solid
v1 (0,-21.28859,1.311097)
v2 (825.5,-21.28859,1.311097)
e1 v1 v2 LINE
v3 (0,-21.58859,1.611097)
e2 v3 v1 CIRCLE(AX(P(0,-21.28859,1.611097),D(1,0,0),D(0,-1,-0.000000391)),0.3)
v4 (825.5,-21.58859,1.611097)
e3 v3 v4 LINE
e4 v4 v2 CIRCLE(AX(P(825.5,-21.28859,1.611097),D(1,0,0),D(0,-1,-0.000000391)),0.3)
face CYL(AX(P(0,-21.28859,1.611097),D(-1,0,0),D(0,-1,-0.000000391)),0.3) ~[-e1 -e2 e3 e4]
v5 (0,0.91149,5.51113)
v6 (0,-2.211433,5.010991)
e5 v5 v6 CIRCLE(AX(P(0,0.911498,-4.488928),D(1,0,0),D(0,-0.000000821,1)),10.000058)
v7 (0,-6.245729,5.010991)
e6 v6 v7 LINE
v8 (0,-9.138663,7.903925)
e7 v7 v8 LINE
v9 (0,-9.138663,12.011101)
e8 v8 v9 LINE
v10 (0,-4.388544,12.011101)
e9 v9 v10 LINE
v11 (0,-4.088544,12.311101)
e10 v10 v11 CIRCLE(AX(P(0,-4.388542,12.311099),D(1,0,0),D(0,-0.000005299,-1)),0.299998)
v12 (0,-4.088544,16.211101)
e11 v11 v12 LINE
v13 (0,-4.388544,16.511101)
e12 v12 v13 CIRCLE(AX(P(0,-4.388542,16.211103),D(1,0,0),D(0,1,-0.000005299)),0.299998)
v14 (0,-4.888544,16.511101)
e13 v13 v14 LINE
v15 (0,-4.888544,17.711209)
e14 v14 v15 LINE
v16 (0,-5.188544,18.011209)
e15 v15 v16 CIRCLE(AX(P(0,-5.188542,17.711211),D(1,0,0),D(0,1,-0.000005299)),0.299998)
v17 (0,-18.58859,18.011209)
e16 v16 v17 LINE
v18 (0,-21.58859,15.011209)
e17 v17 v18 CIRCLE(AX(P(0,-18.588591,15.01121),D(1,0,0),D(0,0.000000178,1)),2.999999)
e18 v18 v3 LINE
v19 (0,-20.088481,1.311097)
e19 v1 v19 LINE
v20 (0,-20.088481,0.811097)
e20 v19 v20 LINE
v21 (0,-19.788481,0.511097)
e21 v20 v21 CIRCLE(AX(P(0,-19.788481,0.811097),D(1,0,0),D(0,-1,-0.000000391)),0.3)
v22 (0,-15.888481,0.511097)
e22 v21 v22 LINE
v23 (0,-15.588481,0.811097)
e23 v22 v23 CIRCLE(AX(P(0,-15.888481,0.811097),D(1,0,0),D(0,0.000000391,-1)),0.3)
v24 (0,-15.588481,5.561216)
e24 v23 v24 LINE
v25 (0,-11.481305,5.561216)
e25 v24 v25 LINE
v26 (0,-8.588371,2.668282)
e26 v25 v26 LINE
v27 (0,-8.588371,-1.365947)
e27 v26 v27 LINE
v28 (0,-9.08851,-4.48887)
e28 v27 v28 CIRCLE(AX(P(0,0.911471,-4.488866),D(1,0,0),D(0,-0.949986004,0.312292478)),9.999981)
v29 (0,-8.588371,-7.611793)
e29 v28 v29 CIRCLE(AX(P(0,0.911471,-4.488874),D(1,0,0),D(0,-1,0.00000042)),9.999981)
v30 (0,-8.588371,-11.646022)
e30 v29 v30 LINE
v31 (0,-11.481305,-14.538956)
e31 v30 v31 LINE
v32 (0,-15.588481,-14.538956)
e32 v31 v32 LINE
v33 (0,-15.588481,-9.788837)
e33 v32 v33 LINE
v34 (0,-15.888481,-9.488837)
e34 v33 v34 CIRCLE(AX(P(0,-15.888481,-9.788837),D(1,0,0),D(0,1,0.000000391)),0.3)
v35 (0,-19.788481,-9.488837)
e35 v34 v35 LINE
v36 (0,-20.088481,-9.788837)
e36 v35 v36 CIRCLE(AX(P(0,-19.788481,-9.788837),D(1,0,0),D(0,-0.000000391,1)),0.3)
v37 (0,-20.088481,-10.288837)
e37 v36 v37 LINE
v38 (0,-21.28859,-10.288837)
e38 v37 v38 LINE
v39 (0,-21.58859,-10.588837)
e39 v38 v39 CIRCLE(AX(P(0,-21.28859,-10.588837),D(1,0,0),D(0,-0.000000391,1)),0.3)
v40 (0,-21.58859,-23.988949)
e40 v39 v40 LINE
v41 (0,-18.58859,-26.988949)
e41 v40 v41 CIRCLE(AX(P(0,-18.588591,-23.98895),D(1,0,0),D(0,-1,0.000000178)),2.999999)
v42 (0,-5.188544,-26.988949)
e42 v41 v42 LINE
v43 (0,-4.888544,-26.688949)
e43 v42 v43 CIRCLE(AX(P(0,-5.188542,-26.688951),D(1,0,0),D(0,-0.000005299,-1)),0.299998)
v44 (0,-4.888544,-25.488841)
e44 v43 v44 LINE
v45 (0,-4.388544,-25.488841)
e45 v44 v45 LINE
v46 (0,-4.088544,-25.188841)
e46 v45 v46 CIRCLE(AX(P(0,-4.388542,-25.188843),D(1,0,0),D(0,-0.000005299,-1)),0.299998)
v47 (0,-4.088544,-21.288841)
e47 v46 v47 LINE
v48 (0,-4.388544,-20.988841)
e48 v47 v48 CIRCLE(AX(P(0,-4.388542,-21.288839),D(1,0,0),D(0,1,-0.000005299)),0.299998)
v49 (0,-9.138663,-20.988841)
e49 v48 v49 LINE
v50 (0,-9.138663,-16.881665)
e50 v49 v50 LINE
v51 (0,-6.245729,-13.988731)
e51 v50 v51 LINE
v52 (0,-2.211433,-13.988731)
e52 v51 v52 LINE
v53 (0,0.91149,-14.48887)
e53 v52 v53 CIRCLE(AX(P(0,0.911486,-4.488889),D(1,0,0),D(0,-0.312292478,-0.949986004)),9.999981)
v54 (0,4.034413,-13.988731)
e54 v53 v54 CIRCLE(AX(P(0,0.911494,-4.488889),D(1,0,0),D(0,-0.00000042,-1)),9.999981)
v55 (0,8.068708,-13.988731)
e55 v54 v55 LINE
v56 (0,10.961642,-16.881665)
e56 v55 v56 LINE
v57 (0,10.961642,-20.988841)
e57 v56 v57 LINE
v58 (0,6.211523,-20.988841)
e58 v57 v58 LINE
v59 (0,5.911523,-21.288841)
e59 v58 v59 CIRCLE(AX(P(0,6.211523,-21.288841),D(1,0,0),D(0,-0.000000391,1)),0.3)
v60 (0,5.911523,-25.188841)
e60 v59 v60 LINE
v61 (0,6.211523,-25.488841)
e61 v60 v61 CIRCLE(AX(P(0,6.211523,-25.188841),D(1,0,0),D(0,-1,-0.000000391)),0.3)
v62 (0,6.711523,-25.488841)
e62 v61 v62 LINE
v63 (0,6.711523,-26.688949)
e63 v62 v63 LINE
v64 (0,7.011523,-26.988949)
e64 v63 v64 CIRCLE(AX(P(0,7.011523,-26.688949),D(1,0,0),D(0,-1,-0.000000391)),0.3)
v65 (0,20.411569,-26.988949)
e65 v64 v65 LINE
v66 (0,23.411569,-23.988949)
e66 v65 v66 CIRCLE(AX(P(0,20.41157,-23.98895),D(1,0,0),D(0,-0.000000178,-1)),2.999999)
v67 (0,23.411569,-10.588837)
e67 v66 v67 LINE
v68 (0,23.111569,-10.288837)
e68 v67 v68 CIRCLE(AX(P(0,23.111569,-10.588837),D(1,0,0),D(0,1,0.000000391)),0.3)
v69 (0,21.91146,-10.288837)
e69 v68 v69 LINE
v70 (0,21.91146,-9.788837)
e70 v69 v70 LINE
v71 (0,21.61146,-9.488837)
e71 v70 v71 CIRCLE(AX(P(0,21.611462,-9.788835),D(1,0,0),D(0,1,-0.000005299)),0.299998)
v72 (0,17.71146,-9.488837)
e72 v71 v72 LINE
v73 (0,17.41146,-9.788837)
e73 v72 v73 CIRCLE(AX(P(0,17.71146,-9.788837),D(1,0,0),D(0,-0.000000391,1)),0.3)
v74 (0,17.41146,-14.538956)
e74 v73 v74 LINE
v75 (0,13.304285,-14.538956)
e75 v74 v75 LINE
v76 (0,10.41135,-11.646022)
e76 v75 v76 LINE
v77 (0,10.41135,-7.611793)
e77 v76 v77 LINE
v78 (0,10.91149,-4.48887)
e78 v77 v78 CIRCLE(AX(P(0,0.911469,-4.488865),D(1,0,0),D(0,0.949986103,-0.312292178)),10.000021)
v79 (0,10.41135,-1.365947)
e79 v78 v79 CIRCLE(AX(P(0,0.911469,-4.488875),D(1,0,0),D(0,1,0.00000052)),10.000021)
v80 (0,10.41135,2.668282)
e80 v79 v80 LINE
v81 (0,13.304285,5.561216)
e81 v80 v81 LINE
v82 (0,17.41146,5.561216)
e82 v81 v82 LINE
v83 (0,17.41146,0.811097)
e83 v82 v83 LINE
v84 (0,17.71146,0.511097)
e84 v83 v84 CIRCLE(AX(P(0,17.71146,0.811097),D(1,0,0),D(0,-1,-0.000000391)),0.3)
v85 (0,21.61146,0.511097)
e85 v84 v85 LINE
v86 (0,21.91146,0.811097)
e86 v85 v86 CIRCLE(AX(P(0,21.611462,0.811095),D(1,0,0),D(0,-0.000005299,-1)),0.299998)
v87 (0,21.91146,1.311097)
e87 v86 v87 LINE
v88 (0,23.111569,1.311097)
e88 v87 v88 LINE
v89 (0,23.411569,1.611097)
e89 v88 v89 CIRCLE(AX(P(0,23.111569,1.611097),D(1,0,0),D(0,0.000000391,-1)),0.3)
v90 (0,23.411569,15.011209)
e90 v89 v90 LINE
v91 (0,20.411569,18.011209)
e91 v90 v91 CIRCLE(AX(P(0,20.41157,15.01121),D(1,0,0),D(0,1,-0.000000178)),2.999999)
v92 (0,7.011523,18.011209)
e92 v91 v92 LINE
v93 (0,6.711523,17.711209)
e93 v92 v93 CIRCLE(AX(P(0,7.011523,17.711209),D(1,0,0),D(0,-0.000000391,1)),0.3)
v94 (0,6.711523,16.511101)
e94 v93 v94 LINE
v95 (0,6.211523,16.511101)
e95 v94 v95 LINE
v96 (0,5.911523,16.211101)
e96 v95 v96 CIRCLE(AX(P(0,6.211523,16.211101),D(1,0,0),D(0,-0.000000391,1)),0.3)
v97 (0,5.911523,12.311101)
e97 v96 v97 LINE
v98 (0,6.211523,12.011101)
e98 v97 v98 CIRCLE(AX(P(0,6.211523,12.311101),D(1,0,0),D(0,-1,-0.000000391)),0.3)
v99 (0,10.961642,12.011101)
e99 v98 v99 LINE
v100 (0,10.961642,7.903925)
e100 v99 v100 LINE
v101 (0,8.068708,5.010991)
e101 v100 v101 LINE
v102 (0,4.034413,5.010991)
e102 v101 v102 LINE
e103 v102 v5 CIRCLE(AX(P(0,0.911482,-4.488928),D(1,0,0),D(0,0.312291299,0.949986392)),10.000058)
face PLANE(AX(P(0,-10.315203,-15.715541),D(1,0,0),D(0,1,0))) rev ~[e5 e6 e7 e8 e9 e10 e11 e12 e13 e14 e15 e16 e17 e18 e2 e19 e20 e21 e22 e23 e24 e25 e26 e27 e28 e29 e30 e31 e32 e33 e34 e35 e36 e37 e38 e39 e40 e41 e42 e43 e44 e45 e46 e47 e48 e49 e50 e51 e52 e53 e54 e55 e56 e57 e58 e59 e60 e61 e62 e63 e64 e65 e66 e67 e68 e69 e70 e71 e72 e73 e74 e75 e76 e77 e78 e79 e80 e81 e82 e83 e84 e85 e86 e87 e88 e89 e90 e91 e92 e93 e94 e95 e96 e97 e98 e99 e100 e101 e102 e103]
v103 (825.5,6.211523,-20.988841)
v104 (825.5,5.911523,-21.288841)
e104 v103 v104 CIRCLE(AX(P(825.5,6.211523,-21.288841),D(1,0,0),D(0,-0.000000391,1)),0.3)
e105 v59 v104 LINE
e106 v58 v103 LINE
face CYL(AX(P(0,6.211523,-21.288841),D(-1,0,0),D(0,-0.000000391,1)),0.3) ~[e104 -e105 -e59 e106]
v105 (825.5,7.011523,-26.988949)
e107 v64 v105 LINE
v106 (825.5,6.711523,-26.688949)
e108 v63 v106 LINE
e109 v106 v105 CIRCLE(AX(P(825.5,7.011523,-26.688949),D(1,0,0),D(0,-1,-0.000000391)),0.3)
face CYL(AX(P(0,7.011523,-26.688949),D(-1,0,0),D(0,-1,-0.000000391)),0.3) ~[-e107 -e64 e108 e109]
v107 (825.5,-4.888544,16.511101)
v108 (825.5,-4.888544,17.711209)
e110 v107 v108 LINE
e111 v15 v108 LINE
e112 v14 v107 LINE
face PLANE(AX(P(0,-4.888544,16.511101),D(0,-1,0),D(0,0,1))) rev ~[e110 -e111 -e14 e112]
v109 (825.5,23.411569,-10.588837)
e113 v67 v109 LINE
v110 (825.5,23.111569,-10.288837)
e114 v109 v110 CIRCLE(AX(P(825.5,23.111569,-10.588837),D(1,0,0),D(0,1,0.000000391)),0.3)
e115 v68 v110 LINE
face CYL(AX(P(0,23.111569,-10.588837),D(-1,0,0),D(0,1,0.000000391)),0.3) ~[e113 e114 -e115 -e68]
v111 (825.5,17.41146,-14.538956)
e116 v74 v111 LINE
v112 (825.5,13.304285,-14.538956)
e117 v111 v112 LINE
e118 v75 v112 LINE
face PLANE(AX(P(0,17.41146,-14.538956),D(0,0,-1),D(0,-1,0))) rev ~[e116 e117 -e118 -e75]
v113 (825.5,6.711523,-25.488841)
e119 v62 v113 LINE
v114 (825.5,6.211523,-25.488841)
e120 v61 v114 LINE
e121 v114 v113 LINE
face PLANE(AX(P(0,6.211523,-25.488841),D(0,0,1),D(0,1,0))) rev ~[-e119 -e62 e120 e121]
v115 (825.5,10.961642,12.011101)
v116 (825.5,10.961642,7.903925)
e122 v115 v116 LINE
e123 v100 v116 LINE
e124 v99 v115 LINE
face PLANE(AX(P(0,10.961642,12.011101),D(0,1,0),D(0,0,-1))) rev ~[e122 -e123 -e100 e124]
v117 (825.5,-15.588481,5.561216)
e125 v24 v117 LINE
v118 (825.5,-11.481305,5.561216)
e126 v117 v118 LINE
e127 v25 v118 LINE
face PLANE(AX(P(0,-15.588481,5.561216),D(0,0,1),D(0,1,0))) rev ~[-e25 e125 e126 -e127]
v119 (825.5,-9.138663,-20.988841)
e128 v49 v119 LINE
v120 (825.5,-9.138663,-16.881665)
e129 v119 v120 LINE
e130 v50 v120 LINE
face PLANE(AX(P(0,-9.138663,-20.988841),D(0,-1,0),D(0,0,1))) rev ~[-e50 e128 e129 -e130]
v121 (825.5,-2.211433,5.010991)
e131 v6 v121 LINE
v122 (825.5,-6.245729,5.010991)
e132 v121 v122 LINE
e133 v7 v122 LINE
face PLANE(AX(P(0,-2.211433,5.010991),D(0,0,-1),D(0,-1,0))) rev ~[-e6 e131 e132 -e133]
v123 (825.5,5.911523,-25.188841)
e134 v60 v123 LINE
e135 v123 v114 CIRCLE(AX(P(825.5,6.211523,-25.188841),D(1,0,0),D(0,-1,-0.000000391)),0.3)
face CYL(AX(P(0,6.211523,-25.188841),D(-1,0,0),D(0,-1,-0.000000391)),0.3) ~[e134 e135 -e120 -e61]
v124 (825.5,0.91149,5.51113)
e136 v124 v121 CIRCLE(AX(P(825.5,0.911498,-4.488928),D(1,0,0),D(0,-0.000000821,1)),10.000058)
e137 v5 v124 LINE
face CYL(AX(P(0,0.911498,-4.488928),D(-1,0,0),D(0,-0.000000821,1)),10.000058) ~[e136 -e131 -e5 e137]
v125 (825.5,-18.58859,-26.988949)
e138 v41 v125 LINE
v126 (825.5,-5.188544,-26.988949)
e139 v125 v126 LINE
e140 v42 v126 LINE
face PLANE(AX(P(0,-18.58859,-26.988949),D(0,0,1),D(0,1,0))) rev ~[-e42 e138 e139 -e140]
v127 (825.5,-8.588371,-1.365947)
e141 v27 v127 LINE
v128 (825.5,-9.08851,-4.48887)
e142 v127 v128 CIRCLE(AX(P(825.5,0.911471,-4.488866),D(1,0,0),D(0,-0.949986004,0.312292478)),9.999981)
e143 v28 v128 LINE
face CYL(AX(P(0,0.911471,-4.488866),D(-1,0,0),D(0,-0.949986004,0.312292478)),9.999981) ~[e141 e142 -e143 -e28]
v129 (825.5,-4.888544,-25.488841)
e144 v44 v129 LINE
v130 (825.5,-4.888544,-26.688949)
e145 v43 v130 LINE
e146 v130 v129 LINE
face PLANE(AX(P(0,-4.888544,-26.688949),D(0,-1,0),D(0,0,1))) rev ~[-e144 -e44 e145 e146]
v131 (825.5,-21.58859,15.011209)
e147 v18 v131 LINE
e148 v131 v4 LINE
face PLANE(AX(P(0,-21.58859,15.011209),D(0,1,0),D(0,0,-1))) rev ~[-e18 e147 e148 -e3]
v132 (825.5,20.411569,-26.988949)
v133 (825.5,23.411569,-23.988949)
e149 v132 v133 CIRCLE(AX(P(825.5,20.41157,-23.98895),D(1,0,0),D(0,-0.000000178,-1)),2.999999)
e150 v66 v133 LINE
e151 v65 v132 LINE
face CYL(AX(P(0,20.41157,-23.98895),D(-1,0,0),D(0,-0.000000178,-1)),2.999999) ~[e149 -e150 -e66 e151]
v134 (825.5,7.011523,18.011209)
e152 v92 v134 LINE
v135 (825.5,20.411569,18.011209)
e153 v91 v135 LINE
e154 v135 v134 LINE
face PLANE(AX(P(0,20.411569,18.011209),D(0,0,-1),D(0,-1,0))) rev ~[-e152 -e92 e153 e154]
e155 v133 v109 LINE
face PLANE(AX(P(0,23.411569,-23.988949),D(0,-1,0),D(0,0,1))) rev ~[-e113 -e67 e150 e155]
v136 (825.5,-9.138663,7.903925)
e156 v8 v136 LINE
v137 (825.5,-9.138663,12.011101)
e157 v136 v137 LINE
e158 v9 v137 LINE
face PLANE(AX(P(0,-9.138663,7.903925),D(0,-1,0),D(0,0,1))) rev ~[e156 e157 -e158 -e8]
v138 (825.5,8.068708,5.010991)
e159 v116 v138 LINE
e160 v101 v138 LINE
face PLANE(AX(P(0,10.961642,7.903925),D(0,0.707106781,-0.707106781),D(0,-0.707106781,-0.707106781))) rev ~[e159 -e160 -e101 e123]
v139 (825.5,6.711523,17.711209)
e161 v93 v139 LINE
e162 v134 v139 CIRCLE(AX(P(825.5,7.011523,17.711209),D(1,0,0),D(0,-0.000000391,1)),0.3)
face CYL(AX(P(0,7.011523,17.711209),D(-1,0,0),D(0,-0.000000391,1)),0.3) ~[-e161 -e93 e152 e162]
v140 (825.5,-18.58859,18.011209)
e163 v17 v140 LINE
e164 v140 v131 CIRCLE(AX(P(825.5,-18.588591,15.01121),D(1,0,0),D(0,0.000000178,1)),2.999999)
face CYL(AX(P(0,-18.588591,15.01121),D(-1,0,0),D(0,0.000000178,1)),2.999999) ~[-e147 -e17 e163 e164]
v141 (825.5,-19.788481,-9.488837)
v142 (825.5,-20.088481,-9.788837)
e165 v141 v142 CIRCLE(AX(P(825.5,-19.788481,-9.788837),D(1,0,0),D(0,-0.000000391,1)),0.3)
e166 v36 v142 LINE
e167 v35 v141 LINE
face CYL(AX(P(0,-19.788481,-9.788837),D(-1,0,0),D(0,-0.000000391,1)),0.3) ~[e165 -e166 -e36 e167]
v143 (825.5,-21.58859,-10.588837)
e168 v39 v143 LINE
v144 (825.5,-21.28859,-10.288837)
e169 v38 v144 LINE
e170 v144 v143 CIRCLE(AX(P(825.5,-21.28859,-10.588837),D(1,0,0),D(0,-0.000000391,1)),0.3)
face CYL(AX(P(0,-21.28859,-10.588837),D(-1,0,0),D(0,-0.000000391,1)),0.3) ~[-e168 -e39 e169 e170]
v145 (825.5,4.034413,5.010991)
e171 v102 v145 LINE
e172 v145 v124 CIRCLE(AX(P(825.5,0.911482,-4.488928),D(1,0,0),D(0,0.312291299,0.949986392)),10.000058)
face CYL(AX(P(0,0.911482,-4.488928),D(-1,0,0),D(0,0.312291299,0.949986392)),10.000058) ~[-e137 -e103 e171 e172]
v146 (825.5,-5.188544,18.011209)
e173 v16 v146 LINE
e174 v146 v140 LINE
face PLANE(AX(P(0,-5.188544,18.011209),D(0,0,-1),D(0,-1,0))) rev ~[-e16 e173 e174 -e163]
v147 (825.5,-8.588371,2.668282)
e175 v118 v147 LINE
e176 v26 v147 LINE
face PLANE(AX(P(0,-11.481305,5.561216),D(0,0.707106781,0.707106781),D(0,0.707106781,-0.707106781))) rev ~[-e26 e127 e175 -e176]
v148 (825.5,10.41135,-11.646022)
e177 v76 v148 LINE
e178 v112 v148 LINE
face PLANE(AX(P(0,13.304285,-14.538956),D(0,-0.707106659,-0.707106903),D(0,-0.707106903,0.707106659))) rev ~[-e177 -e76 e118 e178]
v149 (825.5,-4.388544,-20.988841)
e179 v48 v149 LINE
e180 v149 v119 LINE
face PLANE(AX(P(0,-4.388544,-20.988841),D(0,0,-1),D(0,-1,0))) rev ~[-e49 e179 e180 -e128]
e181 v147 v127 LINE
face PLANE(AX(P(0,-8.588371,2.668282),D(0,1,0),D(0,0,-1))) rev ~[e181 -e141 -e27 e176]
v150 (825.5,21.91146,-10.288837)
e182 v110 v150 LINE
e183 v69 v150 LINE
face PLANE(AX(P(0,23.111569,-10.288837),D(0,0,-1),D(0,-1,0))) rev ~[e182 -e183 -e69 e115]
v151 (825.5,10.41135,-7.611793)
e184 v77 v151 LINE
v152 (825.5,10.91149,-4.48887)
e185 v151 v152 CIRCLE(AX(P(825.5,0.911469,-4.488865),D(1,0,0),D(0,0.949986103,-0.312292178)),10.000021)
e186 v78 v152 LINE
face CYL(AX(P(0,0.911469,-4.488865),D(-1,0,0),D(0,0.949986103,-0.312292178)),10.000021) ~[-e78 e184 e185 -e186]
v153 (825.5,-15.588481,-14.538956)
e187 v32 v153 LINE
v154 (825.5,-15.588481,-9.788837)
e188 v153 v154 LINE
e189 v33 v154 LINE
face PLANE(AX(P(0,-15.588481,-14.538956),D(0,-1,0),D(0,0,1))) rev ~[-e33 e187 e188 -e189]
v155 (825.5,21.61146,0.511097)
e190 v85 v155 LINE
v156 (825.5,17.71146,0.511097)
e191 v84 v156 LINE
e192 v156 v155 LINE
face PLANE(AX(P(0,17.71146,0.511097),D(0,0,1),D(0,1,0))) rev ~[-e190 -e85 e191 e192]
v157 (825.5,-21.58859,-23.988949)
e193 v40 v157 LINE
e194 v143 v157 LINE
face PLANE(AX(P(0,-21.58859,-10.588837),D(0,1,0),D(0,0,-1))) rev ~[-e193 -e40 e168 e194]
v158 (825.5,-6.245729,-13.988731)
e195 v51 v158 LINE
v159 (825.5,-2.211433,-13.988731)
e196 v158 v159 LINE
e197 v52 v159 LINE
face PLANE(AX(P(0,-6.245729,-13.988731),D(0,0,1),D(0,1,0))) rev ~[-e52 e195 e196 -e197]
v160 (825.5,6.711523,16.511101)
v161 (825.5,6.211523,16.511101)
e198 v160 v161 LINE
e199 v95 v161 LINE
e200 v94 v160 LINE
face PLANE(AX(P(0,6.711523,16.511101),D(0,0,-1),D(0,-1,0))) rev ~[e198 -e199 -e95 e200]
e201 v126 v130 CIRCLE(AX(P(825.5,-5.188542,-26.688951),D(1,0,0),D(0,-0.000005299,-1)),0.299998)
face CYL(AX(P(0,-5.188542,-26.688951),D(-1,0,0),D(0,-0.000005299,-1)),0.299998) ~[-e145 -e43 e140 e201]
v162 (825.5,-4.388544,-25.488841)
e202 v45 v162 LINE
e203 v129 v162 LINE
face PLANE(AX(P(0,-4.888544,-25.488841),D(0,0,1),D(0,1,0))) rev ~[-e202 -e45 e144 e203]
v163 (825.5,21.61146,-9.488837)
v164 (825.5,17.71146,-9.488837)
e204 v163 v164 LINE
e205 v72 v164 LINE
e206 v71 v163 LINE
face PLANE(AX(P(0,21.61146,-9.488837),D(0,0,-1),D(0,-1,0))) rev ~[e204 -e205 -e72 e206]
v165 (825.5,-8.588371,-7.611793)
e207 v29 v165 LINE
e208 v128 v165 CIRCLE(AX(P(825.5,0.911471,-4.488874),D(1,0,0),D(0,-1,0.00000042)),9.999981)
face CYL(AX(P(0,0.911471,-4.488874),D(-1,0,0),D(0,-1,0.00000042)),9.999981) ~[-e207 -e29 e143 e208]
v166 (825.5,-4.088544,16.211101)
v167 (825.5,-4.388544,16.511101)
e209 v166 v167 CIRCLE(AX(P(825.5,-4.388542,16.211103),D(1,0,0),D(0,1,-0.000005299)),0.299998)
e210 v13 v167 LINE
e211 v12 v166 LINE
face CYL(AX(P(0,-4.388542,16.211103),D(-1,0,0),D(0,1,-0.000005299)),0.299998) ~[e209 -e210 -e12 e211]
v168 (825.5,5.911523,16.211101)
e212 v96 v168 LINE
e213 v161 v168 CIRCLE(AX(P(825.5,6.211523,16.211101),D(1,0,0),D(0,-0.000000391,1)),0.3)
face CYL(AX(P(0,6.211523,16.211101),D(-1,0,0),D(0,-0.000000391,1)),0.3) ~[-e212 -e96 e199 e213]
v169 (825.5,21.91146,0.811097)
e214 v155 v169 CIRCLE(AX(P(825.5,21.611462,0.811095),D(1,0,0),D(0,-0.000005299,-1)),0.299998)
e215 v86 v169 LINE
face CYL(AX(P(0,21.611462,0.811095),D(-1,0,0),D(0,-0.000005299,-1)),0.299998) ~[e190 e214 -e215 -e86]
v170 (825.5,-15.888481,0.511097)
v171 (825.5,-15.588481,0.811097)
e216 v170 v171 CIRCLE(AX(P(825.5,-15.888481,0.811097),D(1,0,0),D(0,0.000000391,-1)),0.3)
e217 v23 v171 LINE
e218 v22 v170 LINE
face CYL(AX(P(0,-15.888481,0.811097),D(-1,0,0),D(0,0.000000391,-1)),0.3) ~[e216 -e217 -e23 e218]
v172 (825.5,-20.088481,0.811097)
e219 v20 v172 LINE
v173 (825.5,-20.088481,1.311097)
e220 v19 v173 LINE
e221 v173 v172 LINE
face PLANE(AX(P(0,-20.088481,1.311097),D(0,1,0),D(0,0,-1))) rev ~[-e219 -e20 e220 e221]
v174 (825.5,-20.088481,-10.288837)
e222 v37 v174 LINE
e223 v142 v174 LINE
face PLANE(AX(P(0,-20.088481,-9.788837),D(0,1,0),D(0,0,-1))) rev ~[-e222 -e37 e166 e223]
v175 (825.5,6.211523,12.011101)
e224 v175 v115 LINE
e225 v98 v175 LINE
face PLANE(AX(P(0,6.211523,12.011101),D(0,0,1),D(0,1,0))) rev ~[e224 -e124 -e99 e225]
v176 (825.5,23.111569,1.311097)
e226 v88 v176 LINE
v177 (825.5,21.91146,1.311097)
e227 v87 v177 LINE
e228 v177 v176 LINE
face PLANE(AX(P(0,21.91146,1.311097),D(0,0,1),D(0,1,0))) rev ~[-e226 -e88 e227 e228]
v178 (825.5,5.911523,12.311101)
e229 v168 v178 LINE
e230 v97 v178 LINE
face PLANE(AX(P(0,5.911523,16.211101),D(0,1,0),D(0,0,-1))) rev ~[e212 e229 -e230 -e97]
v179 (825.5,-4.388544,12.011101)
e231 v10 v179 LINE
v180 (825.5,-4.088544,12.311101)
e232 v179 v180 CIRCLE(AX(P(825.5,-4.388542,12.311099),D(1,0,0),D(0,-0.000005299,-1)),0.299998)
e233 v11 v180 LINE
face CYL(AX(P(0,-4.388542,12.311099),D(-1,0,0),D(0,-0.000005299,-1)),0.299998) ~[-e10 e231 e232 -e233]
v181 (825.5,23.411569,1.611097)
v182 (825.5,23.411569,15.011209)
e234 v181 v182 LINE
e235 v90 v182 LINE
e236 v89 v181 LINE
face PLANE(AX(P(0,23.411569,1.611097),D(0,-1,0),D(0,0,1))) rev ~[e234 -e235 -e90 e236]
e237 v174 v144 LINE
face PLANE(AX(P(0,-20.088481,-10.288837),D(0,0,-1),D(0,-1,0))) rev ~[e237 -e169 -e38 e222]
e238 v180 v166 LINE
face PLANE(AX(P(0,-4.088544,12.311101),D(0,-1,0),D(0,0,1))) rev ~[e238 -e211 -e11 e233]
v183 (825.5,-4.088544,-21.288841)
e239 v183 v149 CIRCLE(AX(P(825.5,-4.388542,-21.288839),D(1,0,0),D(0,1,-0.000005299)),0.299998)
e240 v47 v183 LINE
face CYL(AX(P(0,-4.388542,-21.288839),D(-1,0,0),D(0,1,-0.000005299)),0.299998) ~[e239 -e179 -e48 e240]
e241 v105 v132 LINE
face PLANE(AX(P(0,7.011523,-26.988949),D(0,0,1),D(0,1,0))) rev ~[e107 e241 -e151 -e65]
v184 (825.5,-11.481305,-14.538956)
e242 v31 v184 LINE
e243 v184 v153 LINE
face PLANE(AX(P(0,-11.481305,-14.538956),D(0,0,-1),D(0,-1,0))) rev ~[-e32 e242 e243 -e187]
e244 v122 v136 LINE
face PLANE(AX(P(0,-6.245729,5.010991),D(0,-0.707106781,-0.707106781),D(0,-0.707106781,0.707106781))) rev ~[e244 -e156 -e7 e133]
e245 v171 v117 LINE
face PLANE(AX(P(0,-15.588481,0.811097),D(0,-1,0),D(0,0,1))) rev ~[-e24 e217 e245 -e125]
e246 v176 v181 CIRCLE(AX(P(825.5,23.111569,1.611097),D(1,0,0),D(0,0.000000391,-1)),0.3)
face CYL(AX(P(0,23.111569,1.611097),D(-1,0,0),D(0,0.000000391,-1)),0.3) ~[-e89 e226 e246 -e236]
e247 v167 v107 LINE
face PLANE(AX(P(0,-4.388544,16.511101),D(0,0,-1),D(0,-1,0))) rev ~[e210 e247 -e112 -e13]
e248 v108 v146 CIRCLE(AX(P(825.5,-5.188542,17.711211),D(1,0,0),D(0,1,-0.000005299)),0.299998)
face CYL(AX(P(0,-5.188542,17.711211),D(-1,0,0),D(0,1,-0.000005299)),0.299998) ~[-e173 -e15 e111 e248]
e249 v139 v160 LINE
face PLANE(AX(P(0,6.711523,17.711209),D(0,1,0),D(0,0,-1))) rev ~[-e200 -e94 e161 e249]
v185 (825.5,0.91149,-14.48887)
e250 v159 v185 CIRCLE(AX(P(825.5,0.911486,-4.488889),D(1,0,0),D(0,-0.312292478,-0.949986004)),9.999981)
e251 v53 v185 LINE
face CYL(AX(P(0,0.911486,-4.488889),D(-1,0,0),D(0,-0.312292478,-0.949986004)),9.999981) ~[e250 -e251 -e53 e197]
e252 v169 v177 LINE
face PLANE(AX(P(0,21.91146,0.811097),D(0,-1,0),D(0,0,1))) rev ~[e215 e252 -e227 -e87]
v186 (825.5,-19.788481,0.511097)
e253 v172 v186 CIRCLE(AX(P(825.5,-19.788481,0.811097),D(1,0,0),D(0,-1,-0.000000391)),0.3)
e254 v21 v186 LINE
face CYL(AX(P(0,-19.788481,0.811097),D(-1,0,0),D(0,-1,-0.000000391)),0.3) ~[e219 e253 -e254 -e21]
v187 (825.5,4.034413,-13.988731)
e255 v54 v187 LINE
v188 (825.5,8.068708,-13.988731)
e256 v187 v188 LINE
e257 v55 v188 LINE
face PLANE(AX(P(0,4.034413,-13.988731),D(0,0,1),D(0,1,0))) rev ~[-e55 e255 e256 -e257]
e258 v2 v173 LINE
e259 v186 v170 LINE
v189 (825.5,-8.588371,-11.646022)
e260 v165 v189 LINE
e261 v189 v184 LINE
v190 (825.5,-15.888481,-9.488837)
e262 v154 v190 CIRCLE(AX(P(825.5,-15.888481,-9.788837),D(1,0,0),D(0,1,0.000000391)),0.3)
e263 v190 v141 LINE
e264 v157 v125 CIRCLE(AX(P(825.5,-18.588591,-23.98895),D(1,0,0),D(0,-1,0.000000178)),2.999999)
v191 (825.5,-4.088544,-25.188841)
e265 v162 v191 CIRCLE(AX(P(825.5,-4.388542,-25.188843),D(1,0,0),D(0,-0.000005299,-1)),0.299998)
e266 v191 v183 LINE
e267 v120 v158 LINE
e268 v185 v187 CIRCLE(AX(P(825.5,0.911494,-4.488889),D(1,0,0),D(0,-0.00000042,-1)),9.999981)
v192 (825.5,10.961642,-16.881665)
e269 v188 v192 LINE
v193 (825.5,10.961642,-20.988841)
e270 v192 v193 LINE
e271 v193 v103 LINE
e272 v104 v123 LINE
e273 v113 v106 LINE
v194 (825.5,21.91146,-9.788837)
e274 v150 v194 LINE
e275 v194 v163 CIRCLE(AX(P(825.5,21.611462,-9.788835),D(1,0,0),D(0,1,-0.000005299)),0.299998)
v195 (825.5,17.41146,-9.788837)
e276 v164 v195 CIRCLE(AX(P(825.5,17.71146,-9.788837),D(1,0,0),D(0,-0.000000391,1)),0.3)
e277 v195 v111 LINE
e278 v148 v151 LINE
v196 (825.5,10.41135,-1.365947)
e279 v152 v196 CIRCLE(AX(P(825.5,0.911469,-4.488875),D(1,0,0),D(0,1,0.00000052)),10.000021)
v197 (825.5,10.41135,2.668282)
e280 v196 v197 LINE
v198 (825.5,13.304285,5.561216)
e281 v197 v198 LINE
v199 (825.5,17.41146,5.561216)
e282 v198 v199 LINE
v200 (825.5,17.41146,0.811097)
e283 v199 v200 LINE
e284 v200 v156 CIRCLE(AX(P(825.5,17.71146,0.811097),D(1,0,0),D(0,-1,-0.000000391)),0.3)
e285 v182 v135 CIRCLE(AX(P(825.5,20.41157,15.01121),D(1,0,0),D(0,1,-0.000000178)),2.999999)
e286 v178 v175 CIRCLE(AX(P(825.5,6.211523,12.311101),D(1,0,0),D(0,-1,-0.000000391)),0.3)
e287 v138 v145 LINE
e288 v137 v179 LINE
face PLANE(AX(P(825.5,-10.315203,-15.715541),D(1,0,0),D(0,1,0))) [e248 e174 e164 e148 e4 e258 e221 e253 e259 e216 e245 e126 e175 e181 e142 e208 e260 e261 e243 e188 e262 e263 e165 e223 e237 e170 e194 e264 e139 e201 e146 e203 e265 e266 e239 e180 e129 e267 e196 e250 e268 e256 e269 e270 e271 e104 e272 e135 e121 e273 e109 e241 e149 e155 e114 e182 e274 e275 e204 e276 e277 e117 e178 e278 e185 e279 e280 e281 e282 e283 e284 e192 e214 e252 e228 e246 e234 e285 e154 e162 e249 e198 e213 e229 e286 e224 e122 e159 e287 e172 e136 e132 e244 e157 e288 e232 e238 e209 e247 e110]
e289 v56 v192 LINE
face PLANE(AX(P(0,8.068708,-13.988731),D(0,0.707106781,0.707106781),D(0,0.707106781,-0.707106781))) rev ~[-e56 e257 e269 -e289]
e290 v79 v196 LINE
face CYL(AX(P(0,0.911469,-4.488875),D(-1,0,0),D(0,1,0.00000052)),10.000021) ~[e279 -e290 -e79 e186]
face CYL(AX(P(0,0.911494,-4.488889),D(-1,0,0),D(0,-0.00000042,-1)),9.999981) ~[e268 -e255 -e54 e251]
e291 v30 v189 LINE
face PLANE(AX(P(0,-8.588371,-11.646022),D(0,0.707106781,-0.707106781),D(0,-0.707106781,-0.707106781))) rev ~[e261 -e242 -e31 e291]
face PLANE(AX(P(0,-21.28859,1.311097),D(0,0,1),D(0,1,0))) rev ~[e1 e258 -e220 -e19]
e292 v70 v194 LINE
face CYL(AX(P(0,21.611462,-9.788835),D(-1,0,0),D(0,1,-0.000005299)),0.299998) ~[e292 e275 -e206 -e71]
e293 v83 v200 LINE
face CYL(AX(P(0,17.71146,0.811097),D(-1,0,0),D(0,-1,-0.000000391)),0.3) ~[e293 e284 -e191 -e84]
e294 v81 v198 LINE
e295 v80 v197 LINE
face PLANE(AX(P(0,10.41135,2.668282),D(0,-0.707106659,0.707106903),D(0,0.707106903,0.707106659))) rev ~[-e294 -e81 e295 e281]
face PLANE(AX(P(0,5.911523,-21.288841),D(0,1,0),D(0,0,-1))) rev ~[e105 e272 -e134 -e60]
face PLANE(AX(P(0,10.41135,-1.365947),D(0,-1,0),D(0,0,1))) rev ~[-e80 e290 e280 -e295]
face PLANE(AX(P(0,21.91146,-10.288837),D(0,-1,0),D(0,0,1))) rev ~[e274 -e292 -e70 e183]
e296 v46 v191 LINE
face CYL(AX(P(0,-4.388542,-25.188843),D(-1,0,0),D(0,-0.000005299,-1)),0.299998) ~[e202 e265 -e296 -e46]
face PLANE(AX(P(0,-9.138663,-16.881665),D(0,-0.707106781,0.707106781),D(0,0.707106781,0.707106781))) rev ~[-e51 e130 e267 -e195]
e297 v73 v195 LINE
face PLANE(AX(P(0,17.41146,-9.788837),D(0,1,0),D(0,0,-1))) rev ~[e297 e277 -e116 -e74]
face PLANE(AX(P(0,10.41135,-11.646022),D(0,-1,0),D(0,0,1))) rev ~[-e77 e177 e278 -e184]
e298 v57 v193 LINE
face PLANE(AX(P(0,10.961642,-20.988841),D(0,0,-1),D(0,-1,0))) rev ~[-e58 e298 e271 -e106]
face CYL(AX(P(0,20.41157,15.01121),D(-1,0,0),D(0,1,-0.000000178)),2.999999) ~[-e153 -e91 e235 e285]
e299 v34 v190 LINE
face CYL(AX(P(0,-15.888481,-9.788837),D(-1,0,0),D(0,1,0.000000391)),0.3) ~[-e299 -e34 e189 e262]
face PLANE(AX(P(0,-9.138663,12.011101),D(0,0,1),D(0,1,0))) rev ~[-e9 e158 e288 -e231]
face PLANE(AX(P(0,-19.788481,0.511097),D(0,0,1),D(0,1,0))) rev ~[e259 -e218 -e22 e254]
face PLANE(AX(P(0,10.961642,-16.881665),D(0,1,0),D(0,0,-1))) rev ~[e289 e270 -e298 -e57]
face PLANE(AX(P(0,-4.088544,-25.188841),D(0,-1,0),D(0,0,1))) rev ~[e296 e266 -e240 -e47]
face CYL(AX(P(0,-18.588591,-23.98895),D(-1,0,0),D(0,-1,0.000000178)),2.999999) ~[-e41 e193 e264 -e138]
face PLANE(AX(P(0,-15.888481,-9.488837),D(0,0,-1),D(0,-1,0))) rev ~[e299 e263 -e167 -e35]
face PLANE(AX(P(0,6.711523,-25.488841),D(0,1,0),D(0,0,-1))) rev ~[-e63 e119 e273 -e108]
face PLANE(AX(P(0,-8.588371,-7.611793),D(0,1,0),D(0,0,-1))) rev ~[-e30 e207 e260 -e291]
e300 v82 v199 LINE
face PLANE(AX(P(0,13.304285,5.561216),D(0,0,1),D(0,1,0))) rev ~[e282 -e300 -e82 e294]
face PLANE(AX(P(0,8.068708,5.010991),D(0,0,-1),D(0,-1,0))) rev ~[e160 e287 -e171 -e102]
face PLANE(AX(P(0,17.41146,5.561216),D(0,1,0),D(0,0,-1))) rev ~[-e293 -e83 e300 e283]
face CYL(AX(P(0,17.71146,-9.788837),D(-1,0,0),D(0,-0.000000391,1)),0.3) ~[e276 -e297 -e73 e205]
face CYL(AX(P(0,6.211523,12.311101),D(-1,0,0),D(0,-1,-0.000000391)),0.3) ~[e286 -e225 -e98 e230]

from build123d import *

# Parameters (mm, degrees)
F1_DEPTH = 825.5


with BuildPart() as f1:
    # F0 (on Right) → F1 (new body)
    with BuildSketch(Plane.YZ):
        with BuildLine():
            Line((-20.088481, -9.788837), (-20.088481, -10.288837))
            Line((-20.088481, -10.288837), (-21.28859, -10.288837))
            ThreePointArc((-21.28859, -10.288837), (-21.500722, -10.376705), (-21.58859, -10.588837))
            Line((-21.58859, -10.588837), (-21.58859, -23.988949))
            ThreePointArc((-21.58859, -23.988949), (-20.70991, -26.11027), (-18.58859, -26.988949))
            Line((-18.58859, -26.988949), (-5.188544, -26.988949))
            ThreePointArc((-5.188544, -26.988949), (-4.976411, -26.901081), (-4.888544, -26.688949))
            Line((-4.888544, -26.688949), (-4.888544, -25.488841))
            Line((-4.888544, -25.488841), (-4.388544, -25.488841))
            ThreePointArc((-4.388544, -25.488841), (-4.176411, -25.400973), (-4.088544, -25.188841))
            Line((-4.088544, -25.188841), (-4.088544, -21.288841))
            ThreePointArc((-4.088544, -21.288841), (-4.176411, -21.076709), (-4.388544, -20.988841))
            Line((-4.388544, -20.988841), (-9.138663, -20.988841))
            Line((-9.138663, -20.988841), (-9.138663, -16.881665))
            Line((-9.138663, -16.881665), (-6.245729, -13.988731))
            Line((-6.245729, -13.988731), (-2.211433, -13.988731))
            ThreePointArc((-2.211433, -13.988731), (-0.669869, -14.363044), (0.91149, -14.48887))
            Line((0.91149, -14.48887), (0.91149, -4.48887))
            Line((0.91149, -4.48887), (-9.08851, -4.48887))
            ThreePointArc((-9.08851, -4.48887), (-8.962684, -6.070229), (-8.588371, -7.611793))
            Line((-8.588371, -7.611793), (-8.588371, -11.646022))
            Line((-8.588371, -11.646022), (-11.481305, -14.538956))
            Line((-11.481305, -14.538956), (-15.588481, -14.538956))
            Line((-15.588481, -14.538956), (-15.588481, -9.788837))
            ThreePointArc((-15.588481, -9.788837), (-15.676349, -9.576705), (-15.888481, -9.488837))
            Line((-15.888481, -9.488837), (-19.788481, -9.488837))
            ThreePointArc((-19.788481, -9.488837), (-20.000613, -9.576705), (-20.088481, -9.788837))
        make_face()
        with BuildLine():
            ThreePointArc((-8.588371, -1.365947), (-8.962684, -2.907511), (-9.08851, -4.48887))
            Line((-9.08851, -4.48887), (0.91149, -4.48887))
            Line((0.91149, -4.48887), (0.91149, 5.51113))
            ThreePointArc((0.91149, 5.51113), (-0.669869, 5.385303), (-2.211433, 5.010991))
            Line((-2.211433, 5.010991), (-6.245729, 5.010991))
            Line((-6.245729, 5.010991), (-9.138663, 7.903925))
            Line((-9.138663, 7.903925), (-9.138663, 12.011101))
            Line((-9.138663, 12.011101), (-4.388544, 12.011101))
            ThreePointArc((-4.388544, 12.011101), (-4.176411, 12.098969), (-4.088544, 12.311101))
            Line((-4.088544, 12.311101), (-4.088544, 16.211101))
            ThreePointArc((-4.088544, 16.211101), (-4.176411, 16.423233), (-4.388544, 16.511101))
            Line((-4.388544, 16.511101), (-4.888544, 16.511101))
            Line((-4.888544, 16.511101), (-4.888544, 17.711209))
            ThreePointArc((-4.888544, 17.711209), (-4.976411, 17.923341), (-5.188544, 18.011209))
            Line((-5.188544, 18.011209), (-18.58859, 18.011209))
            ThreePointArc((-18.58859, 18.011209), (-20.70991, 17.13253), (-21.58859, 15.011209))
            Line((-21.58859, 15.011209), (-21.58859, 1.611097))
            ThreePointArc((-21.58859, 1.611097), (-21.500722, 1.398965), (-21.28859, 1.311097))
            Line((-21.28859, 1.311097), (-20.088481, 1.311097))
            Line((-20.088481, 1.311097), (-20.088481, 0.811097))
            ThreePointArc((-20.088481, 0.811097), (-20.000613, 0.598965), (-19.788481, 0.511097))
            Line((-19.788481, 0.511097), (-15.888481, 0.511097))
            ThreePointArc((-15.888481, 0.511097), (-15.676349, 0.598965), (-15.588481, 0.811097))
            Line((-15.588481, 0.811097), (-15.588481, 5.561216))
            Line((-15.588481, 5.561216), (-11.481305, 5.561216))
            Line((-11.481305, 5.561216), (-8.588371, 2.668282))
            Line((-8.588371, 2.668282), (-8.588371, -1.365947))
        make_face()
        with BuildLine():
            Line((0.91149, 5.51113), (0.91149, -4.48887))
            Line((0.91149, -4.48887), (10.91149, -4.48887))
            ThreePointArc((10.91149, -4.48887), (10.785663, -2.907511), (10.41135, -1.365947))
            Line((10.41135, -1.365947), (10.41135, 2.668282))
            Line((10.41135, 2.668282), (13.304285, 5.561216))
            Line((13.304285, 5.561216), (14.016842, 5.561216))
            Line((14.016842, 5.561216), (17.41146, 5.561216))
            Line((17.41146, 5.561216), (17.41146, 0.811097))
            ThreePointArc((17.41146, 0.811097), (17.499328, 0.598965), (17.71146, 0.511097))
            Line((17.71146, 0.511097), (21.61146, 0.511097))
            ThreePointArc((21.61146, 0.511097), (21.823593, 0.598965), (21.91146, 0.811097))
            Line((21.91146, 0.811097), (21.91146, 1.311097))
            Line((21.91146, 1.311097), (23.111569, 1.311097))
            ThreePointArc((23.111569, 1.311097), (23.323701, 1.398965), (23.411569, 1.611097))
            Line((23.411569, 1.611097), (23.411569, 15.011209))
            ThreePointArc((23.411569, 15.011209), (22.532889, 17.13253), (20.411569, 18.011209))
            Line((20.411569, 18.011209), (7.011523, 18.011209))
            ThreePointArc((7.011523, 18.011209), (6.799391, 17.923341), (6.711523, 17.711209))
            Line((6.711523, 17.711209), (6.711523, 16.511101))
            Line((6.711523, 16.511101), (6.211523, 16.511101))
            ThreePointArc((6.211523, 16.511101), (5.999391, 16.423233), (5.911523, 16.211101))
            Line((5.911523, 16.211101), (5.911523, 12.311101))
            ThreePointArc((5.911523, 12.311101), (5.999391, 12.098969), (6.211523, 12.011101))
            Line((6.211523, 12.011101), (10.961642, 12.011101))
            Line((10.961642, 12.011101), (10.961642, 7.903925))
            Line((10.961642, 7.903925), (8.068708, 5.010991))
            Line((8.068708, 5.010991), (4.034413, 5.010991))
            ThreePointArc((4.034413, 5.010991), (2.492849, 5.385303), (0.91149, 5.51113))
        make_face()
        with BuildLine():
            Line((10.91149, -4.48887), (0.91149, -4.48887))
            Line((0.91149, -4.48887), (0.91149, -14.48887))
            ThreePointArc((0.91149, -14.48887), (2.492849, -14.363044), (4.034413, -13.988731))
            Line((4.034413, -13.988731), (8.068708, -13.988731))
            Line((8.068708, -13.988731), (10.961642, -16.881665))
            Line((10.961642, -16.881665), (10.961642, -20.988841))
            Line((10.961642, -20.988841), (6.211523, -20.988841))
            ThreePointArc((6.211523, -20.988841), (5.999391, -21.076709), (5.911523, -21.288841))
            Line((5.911523, -21.288841), (5.911523, -25.188841))
            ThreePointArc((5.911523, -25.188841), (5.999391, -25.400973), (6.211523, -25.488841))
            Line((6.211523, -25.488841), (6.711523, -25.488841))
            Line((6.711523, -25.488841), (6.711523, -26.688949))
            ThreePointArc((6.711523, -26.688949), (6.799391, -26.901081), (7.011523, -26.988949))
            Line((7.011523, -26.988949), (20.411569, -26.988949))
            ThreePointArc((20.411569, -26.988949), (22.532889, -26.11027), (23.411569, -23.988949))
            Line((23.411569, -23.988949), (23.411569, -10.588837))
            ThreePointArc((23.411569, -10.588837), (23.323701, -10.376705), (23.111569, -10.288837))
            Line((23.111569, -10.288837), (21.91146, -10.288837))
            Line((21.91146, -10.288837), (21.91146, -9.788837))
            ThreePointArc((21.91146, -9.788837), (21.823593, -9.576705), (21.61146, -9.488837))
            Line((21.61146, -9.488837), (17.71146, -9.488837))
            ThreePointArc((17.71146, -9.488837), (17.499328, -9.576705), (17.41146, -9.788837))
            Line((17.41146, -9.788837), (17.41146, -14.538956))
            Line((17.41146, -14.538956), (13.304285, -14.538956))
            Line((13.304285, -14.538956), (10.41135, -11.646022))
            Line((10.41135, -11.646022), (10.41135, -7.611793))
            ThreePointArc((10.41135, -7.611793), (10.785663, -6.070229), (10.91149, -4.48887))
        make_face()
    extrude(amount=F1_DEPTH)


solid = f1.part
